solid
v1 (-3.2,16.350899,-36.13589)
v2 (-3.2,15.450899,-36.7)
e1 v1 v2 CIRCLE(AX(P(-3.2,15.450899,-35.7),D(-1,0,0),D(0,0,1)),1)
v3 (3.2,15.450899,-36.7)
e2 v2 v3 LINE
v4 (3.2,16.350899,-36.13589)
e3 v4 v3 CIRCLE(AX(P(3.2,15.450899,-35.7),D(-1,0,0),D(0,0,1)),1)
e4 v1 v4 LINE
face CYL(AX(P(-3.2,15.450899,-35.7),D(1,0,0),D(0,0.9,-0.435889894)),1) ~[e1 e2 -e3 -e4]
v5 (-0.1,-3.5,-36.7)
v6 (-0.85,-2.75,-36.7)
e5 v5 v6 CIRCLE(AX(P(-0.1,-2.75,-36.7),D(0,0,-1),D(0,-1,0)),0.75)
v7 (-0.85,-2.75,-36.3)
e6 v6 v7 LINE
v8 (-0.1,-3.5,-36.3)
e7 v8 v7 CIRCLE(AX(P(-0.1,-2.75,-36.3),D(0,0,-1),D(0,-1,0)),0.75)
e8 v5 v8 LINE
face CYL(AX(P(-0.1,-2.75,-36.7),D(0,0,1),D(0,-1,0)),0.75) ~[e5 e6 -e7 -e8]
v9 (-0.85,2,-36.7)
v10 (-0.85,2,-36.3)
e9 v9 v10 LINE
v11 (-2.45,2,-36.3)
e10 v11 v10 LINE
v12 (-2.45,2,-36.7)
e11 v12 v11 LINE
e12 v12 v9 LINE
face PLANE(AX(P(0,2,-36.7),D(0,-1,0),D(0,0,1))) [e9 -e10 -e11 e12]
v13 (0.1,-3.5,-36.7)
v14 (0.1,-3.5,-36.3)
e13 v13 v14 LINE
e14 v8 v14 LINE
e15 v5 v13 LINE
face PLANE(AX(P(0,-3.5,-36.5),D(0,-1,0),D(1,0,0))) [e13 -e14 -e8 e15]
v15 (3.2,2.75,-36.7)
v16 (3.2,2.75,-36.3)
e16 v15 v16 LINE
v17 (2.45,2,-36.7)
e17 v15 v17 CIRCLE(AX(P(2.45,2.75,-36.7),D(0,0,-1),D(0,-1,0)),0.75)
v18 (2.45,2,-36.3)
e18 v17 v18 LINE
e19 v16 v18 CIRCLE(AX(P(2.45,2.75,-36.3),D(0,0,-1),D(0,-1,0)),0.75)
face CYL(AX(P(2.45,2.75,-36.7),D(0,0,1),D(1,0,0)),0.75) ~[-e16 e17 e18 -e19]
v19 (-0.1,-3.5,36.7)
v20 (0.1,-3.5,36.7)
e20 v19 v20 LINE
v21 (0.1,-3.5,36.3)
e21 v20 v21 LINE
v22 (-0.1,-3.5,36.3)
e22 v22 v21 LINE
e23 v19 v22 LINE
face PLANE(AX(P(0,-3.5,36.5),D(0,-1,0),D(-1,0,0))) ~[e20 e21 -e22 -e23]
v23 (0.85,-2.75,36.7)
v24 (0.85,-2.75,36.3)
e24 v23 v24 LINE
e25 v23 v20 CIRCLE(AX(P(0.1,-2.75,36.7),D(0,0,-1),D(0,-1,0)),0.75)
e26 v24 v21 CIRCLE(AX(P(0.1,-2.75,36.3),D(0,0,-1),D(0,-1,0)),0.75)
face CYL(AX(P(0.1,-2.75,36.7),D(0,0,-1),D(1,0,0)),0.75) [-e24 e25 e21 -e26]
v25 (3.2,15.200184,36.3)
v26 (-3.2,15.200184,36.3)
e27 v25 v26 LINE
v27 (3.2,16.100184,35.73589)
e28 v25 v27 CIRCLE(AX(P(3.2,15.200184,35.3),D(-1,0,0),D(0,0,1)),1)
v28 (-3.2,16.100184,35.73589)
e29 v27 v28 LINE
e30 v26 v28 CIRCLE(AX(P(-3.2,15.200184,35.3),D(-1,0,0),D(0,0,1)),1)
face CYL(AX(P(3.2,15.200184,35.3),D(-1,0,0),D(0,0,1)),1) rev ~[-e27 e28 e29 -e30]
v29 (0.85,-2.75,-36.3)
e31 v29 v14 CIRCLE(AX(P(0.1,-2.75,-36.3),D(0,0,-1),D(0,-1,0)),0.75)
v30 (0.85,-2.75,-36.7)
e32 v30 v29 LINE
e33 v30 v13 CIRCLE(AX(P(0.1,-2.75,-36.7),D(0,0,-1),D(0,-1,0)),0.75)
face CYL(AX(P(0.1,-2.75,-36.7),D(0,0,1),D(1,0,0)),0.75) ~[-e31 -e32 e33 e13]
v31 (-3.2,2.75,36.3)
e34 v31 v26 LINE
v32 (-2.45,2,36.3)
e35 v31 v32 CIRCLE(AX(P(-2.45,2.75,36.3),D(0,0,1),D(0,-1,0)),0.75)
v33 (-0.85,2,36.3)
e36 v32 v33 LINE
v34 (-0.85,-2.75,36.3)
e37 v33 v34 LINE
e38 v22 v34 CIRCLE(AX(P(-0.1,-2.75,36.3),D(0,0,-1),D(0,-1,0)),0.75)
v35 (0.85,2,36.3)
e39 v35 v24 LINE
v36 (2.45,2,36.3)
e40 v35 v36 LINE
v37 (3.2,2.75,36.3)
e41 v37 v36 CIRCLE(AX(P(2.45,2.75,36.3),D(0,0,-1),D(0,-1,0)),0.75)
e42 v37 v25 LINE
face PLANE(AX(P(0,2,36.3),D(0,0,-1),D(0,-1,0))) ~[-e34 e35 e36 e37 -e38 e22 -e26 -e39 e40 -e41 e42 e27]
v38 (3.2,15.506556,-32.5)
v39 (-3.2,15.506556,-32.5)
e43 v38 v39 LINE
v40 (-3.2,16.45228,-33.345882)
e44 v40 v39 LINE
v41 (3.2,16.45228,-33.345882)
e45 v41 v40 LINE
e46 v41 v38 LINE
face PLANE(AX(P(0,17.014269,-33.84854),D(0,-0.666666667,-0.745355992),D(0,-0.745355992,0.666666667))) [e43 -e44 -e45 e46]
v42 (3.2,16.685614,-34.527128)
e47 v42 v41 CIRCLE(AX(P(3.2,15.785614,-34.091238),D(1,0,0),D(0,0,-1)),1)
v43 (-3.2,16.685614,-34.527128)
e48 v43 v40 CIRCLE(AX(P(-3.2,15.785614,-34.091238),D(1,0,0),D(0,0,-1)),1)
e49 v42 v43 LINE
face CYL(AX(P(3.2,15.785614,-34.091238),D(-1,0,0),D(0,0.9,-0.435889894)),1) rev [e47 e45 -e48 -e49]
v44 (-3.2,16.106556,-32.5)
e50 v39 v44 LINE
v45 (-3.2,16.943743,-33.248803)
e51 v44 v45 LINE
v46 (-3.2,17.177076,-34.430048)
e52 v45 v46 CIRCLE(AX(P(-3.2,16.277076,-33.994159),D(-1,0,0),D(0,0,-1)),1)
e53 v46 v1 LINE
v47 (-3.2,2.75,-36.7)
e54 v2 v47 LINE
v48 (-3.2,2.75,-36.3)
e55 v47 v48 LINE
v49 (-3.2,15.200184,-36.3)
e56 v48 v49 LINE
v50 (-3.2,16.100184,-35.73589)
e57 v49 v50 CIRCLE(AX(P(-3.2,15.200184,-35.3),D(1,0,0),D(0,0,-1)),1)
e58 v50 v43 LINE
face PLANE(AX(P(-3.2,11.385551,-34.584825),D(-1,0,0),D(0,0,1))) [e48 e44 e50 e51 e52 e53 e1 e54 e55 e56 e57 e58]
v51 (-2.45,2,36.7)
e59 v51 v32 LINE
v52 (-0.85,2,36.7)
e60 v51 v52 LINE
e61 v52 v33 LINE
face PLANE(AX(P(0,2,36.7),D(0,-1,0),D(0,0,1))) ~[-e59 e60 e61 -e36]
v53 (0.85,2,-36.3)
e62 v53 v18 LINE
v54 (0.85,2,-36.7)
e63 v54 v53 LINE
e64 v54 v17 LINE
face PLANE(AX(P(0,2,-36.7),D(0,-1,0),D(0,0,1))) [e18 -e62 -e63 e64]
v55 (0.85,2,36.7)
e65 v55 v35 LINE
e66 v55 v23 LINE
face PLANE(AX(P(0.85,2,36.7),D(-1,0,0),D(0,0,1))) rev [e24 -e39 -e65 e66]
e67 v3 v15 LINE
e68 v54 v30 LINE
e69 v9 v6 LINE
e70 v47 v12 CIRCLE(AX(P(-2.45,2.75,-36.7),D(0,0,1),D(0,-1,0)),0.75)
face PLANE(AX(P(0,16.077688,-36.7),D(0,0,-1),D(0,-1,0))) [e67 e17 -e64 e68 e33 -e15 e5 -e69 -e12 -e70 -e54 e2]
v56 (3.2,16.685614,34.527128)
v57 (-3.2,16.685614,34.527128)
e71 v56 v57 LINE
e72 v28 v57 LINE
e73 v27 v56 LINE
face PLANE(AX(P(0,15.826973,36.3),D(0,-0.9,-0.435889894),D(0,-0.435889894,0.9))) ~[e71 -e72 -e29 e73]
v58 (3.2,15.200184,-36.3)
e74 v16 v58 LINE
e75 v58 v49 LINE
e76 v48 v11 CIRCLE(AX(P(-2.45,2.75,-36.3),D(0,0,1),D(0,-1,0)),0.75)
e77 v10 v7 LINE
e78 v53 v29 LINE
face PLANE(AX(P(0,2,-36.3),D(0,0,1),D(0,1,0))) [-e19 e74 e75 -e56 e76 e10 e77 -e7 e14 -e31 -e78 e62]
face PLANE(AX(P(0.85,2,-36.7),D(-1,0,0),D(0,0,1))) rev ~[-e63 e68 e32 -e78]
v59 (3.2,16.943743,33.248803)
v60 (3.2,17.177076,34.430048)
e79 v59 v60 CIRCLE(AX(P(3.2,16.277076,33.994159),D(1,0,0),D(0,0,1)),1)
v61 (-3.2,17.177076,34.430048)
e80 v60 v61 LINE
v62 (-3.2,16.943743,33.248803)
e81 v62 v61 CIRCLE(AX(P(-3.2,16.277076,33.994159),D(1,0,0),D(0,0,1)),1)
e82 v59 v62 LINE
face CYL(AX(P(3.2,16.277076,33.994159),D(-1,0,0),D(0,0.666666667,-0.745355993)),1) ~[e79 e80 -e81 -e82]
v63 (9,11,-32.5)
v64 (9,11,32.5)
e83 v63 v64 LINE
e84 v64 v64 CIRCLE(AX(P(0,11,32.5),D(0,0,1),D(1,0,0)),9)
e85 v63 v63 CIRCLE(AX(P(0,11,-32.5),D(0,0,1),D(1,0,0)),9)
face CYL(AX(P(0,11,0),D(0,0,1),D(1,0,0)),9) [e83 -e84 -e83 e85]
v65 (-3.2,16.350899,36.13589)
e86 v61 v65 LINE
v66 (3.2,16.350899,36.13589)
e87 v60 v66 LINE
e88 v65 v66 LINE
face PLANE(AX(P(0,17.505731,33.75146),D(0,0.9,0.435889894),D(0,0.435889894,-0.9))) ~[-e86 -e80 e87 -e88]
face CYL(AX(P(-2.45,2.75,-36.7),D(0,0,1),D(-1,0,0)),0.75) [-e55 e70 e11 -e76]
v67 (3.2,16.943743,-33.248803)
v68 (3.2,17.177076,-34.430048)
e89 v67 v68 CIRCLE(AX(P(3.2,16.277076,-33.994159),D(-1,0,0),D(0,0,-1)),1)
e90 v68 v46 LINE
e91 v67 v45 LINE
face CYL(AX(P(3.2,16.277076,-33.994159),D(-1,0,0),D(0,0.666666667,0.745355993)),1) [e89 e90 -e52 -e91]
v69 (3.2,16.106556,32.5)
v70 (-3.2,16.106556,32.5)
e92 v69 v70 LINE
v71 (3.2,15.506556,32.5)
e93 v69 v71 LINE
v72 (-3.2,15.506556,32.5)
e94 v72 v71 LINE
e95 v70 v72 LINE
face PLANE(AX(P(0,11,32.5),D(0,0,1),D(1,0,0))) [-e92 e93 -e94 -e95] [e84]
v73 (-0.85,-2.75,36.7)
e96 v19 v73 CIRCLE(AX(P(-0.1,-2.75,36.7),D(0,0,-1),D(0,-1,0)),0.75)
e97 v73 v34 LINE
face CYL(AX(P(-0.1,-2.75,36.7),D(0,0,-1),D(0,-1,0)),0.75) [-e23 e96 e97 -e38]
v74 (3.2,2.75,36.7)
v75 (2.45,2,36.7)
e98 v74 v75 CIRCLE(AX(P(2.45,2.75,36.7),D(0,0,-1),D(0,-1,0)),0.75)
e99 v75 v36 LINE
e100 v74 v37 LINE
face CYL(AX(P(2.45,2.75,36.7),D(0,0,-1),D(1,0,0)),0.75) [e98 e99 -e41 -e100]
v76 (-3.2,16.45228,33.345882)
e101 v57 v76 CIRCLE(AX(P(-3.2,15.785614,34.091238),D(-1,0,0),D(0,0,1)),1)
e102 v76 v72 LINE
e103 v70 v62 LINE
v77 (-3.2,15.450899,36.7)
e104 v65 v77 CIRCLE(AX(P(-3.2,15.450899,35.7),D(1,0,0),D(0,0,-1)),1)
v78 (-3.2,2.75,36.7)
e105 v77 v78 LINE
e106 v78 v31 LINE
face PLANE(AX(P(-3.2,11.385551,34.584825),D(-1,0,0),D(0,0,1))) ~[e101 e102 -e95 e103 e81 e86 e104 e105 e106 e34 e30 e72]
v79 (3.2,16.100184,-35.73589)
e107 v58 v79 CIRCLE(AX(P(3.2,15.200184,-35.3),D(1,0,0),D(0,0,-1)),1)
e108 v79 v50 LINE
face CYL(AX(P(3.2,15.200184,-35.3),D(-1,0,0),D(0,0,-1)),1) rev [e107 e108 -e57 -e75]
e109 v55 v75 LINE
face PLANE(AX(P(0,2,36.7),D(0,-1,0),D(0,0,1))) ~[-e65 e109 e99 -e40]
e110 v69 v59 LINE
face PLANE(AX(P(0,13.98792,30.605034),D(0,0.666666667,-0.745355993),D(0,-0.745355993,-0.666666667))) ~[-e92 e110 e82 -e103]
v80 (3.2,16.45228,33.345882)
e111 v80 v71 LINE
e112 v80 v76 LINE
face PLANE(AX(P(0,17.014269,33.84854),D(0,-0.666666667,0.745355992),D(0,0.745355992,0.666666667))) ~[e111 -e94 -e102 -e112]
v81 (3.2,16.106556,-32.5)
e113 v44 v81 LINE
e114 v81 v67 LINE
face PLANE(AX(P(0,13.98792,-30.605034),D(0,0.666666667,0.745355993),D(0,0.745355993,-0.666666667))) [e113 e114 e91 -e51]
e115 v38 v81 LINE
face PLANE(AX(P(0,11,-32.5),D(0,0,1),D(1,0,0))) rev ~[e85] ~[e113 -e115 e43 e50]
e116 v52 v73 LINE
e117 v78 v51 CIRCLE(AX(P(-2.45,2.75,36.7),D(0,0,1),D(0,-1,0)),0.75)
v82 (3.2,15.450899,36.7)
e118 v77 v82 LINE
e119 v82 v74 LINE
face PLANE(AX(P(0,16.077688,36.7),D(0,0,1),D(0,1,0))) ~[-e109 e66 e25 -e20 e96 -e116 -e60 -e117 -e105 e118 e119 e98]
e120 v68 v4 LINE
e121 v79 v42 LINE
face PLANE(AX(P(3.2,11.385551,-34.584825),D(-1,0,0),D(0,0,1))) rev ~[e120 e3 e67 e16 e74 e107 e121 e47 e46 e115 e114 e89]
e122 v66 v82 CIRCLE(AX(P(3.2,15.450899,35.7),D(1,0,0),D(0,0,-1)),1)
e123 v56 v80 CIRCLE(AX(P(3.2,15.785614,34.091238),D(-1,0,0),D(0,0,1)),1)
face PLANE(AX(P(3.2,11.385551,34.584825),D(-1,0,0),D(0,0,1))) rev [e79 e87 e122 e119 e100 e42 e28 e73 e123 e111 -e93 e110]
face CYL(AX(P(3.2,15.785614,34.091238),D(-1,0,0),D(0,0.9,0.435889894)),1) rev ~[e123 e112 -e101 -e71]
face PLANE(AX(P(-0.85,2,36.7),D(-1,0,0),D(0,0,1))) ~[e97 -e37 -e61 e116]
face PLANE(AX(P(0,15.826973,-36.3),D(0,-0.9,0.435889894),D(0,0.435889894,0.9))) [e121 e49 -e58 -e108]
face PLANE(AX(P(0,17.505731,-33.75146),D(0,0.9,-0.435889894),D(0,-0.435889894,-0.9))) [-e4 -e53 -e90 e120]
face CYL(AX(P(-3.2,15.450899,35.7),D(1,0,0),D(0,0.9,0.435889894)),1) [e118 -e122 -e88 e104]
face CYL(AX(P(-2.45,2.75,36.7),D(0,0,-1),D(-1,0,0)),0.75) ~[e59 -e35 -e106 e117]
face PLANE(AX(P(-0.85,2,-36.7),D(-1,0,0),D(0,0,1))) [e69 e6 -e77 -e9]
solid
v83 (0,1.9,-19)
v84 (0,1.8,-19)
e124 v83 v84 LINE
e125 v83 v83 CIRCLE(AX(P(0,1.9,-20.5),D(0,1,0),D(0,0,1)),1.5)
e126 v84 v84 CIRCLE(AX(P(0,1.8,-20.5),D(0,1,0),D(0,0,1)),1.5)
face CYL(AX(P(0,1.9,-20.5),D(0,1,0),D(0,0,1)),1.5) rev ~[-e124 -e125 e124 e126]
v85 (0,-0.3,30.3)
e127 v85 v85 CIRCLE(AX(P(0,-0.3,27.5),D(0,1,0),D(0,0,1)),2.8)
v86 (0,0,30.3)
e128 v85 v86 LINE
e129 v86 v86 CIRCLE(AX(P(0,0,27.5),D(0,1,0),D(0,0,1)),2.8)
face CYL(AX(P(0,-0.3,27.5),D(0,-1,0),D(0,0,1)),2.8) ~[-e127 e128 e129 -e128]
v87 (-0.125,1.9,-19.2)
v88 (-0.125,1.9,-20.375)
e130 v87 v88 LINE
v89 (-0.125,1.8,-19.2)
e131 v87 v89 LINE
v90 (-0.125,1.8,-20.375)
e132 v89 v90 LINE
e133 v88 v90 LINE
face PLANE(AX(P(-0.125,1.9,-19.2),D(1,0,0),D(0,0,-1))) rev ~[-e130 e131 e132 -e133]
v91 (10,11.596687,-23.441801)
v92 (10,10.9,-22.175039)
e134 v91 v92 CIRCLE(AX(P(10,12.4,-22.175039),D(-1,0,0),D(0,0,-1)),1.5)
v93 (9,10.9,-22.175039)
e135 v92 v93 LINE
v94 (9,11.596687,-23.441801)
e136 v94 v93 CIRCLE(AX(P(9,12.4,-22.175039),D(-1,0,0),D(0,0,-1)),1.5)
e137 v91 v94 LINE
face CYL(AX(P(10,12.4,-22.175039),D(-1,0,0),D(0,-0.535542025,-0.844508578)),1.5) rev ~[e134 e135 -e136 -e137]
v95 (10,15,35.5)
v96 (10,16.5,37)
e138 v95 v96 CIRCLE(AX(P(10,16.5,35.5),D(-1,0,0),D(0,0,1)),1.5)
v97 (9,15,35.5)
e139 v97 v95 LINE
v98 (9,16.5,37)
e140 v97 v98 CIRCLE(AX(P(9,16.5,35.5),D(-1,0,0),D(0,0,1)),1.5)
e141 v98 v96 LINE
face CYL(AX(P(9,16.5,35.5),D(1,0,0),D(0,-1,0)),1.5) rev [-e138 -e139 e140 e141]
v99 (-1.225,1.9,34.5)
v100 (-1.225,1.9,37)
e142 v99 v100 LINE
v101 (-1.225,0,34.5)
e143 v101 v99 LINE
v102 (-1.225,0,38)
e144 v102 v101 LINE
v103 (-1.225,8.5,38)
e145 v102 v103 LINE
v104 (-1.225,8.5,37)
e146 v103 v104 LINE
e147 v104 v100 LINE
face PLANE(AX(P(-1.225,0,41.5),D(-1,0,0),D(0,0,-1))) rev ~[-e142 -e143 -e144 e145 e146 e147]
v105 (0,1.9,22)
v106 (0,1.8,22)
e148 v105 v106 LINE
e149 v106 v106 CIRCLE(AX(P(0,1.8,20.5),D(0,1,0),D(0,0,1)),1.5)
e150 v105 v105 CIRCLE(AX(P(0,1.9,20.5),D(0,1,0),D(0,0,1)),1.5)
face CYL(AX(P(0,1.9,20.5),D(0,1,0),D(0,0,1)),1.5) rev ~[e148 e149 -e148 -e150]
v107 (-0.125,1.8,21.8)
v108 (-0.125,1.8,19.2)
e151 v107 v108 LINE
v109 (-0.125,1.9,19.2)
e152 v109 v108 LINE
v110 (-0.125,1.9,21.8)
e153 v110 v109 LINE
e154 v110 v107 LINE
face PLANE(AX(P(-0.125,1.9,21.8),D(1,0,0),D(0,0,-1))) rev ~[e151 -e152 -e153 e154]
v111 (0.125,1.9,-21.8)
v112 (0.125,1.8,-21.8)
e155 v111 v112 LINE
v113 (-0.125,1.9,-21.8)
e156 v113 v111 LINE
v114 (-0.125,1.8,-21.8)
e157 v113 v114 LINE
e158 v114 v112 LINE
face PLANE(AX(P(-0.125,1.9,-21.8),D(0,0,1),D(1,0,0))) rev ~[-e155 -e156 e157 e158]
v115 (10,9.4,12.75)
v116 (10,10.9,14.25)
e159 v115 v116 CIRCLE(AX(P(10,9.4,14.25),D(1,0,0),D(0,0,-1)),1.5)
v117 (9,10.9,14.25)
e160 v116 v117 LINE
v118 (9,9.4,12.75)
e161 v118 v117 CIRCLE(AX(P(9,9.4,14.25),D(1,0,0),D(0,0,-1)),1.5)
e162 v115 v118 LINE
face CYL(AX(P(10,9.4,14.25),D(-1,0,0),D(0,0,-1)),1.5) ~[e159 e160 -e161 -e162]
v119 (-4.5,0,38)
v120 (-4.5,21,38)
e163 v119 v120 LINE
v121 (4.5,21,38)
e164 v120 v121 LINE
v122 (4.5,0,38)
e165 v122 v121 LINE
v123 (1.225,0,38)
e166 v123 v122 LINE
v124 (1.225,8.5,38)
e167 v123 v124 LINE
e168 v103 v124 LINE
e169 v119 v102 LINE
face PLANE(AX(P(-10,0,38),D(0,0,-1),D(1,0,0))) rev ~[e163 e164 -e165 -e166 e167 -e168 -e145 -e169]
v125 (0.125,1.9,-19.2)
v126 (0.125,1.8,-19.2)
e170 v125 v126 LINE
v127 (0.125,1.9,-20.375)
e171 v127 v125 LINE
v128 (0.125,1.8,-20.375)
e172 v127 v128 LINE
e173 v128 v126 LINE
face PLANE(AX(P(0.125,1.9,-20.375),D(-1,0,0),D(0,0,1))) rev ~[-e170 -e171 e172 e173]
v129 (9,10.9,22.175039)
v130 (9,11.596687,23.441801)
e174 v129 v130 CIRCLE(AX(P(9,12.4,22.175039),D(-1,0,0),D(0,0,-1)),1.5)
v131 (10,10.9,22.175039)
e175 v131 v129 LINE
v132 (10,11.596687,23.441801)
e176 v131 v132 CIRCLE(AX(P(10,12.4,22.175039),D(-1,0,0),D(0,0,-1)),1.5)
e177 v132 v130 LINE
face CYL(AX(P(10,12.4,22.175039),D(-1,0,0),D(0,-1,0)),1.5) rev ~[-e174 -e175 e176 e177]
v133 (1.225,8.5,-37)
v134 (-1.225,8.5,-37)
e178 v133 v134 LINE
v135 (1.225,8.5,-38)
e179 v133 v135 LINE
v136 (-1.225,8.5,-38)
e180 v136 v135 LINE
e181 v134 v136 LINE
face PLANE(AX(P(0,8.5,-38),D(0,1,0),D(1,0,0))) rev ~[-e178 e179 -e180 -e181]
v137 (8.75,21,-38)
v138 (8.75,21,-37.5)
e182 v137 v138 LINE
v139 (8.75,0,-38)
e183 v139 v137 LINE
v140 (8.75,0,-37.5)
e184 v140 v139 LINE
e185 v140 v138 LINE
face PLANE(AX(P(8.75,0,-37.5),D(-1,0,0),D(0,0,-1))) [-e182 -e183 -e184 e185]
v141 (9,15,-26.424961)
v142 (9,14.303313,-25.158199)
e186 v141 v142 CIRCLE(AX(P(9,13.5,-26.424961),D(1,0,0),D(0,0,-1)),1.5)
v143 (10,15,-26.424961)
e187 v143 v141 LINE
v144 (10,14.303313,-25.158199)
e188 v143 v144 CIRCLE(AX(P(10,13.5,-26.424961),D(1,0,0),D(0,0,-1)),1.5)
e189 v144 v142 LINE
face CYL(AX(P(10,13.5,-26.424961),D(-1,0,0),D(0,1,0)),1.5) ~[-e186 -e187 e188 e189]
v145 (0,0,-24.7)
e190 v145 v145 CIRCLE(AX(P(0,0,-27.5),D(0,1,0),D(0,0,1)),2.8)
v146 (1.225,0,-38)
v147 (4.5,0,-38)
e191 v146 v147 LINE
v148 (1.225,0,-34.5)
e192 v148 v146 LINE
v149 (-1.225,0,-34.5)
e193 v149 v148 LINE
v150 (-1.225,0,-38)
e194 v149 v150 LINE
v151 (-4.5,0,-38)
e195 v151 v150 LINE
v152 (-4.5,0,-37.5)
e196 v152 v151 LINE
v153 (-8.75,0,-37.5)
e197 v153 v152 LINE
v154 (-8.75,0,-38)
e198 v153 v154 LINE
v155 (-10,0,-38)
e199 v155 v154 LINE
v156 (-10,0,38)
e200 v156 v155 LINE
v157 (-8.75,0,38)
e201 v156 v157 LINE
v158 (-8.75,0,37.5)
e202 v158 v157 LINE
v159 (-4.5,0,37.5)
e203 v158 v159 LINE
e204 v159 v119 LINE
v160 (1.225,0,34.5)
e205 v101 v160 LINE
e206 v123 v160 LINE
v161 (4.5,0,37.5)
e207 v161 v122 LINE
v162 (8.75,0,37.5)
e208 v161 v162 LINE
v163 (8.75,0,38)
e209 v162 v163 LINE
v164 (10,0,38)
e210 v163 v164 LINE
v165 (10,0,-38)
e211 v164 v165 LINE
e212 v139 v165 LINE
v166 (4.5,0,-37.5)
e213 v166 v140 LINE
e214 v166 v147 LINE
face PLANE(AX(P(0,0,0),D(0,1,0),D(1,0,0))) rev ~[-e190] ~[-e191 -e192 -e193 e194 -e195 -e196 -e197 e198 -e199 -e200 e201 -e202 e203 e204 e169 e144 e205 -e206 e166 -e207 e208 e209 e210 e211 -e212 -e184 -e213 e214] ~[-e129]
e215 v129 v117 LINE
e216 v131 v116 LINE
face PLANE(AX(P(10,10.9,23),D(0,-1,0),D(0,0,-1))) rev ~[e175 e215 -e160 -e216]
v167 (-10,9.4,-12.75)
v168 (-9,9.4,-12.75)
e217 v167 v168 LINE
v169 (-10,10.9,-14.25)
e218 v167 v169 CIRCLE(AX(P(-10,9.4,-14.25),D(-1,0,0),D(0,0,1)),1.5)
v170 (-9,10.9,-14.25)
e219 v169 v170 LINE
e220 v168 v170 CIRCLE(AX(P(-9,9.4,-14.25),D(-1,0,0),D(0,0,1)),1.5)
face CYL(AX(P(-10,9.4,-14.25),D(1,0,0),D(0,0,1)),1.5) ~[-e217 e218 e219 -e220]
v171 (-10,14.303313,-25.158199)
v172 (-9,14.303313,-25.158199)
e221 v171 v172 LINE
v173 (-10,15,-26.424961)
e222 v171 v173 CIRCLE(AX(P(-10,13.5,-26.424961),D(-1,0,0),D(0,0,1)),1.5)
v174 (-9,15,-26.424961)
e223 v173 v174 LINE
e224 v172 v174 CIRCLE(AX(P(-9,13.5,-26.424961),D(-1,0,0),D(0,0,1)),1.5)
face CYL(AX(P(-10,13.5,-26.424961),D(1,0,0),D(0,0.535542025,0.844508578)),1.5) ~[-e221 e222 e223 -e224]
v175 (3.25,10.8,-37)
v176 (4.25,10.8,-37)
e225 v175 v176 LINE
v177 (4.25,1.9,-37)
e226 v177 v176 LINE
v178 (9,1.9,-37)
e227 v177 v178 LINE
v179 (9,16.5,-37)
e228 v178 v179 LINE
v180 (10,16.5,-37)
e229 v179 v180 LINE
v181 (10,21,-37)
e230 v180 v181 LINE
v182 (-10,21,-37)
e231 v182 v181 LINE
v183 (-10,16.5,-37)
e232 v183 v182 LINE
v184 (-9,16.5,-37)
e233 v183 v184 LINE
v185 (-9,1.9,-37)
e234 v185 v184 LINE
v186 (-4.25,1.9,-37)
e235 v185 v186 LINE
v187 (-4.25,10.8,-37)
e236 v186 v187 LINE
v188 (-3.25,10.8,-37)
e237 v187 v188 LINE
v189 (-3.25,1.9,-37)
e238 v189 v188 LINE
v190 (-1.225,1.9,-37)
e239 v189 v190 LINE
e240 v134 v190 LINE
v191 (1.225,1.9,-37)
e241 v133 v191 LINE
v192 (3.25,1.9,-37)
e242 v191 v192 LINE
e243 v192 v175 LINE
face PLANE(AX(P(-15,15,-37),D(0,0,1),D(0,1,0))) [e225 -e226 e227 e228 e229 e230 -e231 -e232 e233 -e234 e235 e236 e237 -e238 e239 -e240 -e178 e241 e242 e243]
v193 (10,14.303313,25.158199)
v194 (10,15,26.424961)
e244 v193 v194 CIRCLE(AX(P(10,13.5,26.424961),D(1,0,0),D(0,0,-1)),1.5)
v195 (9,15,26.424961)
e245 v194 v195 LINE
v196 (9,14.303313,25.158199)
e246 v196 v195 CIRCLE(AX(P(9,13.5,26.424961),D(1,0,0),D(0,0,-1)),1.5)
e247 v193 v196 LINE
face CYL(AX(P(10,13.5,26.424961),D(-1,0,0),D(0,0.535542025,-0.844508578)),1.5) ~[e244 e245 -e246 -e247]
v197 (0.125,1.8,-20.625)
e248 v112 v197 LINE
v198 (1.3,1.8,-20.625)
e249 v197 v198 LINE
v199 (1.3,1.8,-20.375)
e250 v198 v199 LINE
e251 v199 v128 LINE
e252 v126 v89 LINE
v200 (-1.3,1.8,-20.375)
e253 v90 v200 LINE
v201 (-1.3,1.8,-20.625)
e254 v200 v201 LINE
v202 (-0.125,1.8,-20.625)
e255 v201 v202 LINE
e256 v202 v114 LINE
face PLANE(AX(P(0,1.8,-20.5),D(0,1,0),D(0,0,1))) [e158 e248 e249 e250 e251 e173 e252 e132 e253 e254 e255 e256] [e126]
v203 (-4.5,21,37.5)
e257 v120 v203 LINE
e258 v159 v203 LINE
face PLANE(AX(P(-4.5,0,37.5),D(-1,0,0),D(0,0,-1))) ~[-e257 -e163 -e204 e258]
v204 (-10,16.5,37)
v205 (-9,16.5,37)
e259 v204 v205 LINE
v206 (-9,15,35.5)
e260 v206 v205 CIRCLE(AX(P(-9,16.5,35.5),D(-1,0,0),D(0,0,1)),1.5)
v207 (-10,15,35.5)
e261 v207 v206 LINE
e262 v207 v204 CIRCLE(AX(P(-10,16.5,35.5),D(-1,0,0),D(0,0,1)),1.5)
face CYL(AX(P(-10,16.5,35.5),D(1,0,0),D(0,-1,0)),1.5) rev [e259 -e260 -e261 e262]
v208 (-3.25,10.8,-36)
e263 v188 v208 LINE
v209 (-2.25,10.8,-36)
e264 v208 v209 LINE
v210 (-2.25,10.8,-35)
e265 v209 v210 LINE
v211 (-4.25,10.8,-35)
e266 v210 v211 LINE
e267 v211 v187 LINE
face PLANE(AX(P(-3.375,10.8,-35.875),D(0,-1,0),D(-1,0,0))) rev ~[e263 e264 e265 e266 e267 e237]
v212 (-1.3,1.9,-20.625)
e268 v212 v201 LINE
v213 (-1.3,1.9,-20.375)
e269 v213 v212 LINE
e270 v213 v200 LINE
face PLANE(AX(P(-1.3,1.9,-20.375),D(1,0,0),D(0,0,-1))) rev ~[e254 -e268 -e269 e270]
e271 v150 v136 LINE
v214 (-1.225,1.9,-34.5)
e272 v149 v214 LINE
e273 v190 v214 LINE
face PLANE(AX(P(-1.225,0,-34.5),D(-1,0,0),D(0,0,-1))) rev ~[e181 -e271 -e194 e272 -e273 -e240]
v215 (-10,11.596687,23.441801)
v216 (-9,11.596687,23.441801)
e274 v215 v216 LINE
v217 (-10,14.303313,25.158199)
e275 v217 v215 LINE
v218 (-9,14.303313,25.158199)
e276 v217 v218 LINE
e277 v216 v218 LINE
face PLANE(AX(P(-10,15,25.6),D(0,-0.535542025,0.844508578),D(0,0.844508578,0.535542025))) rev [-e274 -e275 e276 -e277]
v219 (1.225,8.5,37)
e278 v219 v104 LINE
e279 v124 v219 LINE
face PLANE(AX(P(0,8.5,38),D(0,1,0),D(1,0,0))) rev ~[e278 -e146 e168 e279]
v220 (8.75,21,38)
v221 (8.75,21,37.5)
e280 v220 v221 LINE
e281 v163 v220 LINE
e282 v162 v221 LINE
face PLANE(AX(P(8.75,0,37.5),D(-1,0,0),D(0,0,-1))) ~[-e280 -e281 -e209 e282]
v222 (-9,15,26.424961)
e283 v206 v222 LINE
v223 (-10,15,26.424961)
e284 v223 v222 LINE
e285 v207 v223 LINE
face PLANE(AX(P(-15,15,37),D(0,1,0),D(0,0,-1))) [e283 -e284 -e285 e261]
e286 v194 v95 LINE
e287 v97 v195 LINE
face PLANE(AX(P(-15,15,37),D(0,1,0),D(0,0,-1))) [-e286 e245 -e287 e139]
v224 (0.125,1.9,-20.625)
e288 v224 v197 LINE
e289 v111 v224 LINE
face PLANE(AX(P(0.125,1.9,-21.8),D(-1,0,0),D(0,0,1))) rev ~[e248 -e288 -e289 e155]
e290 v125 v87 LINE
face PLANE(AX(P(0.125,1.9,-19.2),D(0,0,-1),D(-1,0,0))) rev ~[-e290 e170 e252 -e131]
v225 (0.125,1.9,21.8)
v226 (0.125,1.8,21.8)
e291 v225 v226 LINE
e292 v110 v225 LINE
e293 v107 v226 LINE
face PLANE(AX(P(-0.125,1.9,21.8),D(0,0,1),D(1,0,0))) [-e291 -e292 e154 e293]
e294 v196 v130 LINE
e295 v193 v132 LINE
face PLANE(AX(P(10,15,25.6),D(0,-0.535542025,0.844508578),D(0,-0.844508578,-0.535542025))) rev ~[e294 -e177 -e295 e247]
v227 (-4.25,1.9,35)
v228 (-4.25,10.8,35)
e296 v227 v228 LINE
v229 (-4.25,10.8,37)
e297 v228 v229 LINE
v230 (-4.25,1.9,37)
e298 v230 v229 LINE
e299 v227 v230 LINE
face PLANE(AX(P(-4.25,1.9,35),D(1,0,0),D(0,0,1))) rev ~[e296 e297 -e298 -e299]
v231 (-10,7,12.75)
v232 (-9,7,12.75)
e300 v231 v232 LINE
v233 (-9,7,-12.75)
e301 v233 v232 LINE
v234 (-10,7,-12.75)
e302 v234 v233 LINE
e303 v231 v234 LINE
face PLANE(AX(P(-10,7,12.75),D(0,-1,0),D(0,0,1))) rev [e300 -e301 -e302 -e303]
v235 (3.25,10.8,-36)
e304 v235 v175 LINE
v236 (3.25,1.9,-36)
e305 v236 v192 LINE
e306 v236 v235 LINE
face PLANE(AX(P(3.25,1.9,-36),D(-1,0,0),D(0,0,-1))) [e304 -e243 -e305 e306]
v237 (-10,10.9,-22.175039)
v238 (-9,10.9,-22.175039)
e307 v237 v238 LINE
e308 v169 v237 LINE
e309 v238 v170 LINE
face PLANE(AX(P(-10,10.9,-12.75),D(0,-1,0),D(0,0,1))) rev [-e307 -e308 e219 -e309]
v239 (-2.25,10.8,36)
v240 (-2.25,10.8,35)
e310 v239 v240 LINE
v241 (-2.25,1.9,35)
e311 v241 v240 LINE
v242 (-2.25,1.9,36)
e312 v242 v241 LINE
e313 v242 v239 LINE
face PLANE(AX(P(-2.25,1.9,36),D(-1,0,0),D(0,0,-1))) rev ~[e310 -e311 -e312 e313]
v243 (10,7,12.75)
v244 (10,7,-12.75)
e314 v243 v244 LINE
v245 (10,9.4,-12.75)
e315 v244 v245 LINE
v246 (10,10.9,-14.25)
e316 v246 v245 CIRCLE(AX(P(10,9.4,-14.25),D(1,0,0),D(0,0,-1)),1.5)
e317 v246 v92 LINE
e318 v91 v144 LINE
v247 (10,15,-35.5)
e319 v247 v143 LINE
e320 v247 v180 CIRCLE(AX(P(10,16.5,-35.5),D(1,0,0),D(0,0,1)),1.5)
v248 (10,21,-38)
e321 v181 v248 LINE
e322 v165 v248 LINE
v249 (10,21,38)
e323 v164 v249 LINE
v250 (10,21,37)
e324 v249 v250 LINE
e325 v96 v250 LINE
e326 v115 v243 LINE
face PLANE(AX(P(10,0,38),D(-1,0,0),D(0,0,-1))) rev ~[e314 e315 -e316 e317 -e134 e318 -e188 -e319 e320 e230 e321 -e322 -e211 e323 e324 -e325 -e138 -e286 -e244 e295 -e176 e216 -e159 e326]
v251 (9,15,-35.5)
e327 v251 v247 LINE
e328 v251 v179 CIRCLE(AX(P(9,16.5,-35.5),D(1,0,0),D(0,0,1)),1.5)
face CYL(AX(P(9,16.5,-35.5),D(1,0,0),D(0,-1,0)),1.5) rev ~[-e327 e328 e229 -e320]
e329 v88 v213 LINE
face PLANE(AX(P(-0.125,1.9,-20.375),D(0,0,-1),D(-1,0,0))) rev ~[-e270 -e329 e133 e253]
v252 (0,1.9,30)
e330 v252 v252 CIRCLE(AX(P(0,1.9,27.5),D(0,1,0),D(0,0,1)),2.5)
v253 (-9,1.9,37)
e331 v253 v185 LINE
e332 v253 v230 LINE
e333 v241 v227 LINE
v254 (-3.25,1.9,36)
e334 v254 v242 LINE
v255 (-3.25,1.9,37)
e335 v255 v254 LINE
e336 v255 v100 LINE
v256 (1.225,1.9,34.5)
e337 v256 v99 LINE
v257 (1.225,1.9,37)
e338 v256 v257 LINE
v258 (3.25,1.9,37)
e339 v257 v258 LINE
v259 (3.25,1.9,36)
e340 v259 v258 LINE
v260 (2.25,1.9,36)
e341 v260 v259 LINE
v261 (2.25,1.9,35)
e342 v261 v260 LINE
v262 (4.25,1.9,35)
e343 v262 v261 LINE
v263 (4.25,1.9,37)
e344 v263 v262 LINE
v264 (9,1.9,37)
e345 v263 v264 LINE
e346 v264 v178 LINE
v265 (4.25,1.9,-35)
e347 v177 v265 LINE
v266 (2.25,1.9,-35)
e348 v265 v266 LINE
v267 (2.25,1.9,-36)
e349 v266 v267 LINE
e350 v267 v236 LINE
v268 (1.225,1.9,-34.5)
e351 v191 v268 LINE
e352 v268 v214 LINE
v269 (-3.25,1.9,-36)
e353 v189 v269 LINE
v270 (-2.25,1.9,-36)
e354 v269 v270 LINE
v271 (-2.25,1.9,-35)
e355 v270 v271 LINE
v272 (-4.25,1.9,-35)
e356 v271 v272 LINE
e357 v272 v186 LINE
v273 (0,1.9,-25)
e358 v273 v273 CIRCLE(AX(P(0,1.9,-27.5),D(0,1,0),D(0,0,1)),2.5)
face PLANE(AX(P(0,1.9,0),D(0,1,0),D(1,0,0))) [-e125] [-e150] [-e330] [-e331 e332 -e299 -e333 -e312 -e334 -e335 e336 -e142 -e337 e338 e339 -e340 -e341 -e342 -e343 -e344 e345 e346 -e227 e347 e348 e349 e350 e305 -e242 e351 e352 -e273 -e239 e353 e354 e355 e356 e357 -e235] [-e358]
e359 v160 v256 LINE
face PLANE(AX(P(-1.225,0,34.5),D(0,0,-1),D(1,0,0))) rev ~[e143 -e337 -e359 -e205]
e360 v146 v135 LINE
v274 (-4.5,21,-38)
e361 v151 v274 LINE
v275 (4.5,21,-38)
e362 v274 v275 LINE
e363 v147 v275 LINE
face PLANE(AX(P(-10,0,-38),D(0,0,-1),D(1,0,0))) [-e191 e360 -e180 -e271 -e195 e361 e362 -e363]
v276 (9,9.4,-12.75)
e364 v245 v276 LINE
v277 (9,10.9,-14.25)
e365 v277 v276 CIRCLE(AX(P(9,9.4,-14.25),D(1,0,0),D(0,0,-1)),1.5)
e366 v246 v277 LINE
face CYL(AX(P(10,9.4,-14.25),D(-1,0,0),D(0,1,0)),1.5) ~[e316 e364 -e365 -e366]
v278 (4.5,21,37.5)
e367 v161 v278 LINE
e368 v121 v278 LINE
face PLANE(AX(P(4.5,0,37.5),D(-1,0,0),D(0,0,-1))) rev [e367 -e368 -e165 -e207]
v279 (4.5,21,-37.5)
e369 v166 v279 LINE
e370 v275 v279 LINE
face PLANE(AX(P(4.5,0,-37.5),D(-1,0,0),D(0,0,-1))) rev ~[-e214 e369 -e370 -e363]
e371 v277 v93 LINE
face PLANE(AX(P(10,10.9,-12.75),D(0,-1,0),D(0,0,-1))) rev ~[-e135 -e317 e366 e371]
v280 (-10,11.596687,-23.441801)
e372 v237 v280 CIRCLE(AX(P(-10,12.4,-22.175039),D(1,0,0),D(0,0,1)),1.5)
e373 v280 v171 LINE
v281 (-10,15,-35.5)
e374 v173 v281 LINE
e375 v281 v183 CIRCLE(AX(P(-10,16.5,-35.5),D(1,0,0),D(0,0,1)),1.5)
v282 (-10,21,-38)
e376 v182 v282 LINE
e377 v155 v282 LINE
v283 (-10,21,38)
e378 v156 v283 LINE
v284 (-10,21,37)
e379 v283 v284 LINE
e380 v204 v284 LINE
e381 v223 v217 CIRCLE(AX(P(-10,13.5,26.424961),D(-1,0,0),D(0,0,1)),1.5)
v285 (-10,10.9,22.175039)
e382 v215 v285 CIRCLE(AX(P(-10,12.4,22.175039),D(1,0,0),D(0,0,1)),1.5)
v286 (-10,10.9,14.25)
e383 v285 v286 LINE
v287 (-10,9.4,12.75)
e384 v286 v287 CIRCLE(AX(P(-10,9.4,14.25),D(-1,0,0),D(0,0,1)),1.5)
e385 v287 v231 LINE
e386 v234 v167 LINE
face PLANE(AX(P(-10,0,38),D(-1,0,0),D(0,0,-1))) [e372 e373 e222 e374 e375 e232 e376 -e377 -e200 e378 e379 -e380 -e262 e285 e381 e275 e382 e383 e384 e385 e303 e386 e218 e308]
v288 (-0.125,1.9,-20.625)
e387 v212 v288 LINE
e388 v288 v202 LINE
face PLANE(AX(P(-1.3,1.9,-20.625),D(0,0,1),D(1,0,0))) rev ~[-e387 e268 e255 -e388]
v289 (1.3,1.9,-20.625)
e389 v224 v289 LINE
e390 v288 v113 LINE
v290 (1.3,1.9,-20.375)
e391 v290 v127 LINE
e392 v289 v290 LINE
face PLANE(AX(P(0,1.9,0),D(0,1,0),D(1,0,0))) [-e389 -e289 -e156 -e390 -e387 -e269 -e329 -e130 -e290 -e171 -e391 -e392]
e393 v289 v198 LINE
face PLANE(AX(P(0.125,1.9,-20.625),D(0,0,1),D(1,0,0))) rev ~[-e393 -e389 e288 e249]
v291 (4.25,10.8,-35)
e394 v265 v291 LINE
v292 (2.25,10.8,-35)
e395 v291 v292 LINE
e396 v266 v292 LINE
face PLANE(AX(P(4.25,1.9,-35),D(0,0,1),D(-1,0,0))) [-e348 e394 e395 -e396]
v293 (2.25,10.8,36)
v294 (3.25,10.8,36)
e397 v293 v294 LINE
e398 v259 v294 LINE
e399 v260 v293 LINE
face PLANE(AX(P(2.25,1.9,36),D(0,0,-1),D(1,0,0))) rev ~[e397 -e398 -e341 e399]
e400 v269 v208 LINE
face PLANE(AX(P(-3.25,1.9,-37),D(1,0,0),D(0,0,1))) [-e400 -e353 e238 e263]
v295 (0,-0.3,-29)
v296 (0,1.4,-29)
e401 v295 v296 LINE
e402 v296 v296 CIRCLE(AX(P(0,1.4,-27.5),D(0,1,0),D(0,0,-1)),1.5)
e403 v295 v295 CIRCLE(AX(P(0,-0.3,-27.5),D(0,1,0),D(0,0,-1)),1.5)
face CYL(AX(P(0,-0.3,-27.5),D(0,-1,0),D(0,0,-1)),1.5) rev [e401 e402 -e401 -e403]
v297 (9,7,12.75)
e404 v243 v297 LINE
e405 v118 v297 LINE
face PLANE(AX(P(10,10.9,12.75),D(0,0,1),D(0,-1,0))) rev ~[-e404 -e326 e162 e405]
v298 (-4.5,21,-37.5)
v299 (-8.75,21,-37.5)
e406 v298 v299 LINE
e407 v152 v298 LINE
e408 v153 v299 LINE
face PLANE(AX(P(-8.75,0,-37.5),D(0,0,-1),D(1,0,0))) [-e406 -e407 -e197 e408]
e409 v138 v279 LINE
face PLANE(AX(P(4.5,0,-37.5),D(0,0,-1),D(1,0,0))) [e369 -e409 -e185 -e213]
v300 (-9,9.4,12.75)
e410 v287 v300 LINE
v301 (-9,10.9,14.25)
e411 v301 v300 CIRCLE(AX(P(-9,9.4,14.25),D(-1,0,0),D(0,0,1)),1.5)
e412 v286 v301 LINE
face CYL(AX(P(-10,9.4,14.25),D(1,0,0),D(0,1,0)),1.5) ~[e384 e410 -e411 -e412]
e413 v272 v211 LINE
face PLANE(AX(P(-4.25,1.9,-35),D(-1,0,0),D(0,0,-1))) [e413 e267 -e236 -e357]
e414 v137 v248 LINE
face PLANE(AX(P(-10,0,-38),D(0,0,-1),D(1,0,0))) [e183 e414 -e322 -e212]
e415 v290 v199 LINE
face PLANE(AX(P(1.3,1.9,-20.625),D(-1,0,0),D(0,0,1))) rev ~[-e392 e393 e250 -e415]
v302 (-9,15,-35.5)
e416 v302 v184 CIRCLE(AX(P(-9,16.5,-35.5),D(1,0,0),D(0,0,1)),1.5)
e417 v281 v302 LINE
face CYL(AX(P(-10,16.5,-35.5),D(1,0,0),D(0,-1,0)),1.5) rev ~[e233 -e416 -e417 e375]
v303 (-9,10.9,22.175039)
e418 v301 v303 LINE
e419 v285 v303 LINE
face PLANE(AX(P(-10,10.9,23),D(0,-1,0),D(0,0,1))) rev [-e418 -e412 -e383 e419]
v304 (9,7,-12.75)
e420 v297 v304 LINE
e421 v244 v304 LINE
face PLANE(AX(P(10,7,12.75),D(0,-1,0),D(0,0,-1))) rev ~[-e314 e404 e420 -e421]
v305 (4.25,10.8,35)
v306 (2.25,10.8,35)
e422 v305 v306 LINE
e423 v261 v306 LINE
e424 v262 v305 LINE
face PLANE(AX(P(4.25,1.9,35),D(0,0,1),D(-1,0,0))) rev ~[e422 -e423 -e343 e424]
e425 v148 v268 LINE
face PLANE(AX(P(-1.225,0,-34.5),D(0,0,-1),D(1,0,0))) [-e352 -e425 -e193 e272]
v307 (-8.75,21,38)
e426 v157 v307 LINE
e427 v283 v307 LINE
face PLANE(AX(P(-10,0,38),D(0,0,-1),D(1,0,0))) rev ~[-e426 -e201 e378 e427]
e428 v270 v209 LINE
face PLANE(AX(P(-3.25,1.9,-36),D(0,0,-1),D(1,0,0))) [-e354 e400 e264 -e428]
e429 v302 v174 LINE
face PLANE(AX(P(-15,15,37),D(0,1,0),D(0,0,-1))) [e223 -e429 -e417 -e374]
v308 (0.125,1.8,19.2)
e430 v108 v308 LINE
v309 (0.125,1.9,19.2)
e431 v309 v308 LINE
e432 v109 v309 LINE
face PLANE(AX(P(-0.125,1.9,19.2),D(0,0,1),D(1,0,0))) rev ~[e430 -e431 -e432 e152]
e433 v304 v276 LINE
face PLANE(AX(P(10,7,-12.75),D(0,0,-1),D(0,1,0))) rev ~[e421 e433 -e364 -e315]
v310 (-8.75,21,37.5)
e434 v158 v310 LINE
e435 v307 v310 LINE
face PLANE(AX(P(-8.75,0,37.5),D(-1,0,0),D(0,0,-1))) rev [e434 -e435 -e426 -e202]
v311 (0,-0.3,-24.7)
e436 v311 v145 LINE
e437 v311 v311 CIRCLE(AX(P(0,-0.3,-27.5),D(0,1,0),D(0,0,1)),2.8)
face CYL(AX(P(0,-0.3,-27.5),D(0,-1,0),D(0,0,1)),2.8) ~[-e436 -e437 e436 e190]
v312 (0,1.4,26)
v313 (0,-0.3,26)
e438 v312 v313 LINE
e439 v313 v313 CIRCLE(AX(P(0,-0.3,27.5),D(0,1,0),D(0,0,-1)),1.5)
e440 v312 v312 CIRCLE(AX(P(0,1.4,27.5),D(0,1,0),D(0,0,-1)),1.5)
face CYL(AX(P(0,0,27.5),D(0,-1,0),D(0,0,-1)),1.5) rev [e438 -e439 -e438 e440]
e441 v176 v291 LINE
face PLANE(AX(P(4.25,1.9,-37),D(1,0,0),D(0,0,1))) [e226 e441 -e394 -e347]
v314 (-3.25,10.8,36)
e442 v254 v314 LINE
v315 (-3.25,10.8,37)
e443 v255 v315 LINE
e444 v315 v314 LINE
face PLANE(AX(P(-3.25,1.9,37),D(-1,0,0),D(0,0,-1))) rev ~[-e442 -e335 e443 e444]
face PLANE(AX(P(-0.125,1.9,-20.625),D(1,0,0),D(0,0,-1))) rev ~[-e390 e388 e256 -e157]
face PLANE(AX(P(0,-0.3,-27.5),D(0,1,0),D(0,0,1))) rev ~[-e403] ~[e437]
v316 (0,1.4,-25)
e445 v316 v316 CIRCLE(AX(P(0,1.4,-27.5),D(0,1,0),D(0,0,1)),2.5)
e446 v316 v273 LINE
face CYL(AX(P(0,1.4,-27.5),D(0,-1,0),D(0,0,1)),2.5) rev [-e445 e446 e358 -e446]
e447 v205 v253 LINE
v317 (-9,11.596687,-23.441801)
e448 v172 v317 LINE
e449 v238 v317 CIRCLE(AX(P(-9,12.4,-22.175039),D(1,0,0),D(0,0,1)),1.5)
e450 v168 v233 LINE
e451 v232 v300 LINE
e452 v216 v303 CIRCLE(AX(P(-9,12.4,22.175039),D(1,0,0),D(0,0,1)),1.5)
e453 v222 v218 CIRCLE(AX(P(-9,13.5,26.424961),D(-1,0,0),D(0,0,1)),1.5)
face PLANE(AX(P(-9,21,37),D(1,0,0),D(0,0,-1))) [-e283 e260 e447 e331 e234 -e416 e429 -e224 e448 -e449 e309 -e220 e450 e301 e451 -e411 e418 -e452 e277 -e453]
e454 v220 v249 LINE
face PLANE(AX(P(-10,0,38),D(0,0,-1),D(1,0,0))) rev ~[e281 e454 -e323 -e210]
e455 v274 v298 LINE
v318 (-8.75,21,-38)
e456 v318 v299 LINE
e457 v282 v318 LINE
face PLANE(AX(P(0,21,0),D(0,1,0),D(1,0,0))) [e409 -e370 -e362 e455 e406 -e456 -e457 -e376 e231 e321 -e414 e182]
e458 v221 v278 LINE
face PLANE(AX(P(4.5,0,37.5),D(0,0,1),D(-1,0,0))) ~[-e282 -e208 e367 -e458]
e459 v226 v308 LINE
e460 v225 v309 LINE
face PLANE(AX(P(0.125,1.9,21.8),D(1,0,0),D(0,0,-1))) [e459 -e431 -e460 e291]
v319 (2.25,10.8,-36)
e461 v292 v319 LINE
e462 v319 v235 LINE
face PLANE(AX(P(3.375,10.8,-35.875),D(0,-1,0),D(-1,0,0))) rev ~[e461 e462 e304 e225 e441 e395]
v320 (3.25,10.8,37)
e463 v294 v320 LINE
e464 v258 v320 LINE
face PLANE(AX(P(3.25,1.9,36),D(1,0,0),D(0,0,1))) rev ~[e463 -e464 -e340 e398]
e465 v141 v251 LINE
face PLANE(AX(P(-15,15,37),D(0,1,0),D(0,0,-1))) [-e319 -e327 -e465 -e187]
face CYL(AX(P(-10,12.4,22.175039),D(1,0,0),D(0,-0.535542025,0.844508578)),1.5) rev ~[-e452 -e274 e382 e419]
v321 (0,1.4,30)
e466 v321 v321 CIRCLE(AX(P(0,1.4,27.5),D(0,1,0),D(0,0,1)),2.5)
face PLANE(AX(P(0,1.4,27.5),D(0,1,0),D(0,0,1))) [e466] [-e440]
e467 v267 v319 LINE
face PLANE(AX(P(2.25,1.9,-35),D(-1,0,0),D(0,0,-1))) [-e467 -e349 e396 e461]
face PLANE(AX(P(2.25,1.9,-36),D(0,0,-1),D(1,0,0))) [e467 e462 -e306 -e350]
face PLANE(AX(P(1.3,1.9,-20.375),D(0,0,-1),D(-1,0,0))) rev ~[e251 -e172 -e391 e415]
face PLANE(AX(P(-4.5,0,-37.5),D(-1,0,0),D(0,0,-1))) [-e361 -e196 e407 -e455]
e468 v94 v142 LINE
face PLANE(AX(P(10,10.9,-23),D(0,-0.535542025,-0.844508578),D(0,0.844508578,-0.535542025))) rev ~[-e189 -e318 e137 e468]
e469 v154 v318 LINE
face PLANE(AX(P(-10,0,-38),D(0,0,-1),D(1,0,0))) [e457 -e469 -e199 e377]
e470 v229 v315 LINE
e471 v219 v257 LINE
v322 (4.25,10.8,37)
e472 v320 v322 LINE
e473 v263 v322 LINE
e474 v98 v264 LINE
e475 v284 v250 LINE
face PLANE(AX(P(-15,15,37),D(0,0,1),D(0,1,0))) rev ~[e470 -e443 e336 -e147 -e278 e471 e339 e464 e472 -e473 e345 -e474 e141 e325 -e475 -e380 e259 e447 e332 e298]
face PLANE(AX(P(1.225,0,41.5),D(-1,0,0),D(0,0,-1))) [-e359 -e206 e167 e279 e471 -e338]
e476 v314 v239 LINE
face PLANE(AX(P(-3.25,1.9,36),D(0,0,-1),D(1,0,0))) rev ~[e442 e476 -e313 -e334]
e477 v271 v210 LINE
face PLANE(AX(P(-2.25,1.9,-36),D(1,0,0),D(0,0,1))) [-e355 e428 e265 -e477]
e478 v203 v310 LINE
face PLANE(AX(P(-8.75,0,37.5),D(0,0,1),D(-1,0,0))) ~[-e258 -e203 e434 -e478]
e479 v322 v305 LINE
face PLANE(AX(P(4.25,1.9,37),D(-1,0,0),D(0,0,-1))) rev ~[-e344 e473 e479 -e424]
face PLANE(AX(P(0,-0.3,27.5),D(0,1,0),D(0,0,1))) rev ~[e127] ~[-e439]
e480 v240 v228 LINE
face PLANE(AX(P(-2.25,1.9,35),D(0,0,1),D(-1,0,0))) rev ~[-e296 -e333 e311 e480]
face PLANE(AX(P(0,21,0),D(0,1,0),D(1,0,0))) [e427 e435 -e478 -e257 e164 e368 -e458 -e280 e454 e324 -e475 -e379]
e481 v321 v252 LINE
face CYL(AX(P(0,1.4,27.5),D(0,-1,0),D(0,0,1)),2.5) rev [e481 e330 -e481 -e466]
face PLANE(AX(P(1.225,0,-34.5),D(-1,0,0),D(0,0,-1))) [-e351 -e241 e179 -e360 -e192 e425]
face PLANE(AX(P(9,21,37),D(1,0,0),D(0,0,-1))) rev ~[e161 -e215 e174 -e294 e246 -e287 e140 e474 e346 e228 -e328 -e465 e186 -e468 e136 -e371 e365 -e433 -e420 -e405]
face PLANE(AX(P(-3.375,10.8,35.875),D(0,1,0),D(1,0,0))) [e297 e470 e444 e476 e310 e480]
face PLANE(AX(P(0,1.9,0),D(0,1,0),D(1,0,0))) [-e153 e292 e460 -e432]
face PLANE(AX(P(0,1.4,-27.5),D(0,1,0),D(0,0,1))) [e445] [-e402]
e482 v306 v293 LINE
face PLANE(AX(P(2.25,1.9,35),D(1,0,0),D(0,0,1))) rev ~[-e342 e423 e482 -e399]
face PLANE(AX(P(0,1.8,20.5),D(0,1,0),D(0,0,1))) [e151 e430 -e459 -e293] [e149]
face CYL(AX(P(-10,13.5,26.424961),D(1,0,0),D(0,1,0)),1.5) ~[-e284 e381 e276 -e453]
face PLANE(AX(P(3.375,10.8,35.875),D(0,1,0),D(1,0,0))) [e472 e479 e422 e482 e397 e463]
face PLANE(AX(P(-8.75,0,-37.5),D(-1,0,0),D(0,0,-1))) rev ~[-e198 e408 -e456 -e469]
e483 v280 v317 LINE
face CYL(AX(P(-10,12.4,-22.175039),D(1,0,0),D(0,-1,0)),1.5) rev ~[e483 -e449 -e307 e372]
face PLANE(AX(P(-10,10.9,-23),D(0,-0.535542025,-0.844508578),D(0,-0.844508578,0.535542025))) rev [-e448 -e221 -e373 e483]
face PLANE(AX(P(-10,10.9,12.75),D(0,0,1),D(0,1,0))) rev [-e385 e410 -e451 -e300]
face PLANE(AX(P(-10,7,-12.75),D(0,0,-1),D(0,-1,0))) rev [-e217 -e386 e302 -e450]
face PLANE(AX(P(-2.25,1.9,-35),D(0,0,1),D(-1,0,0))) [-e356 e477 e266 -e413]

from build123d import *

# Parameters (mm, degrees)
SKETCH_1_W                  = 20
SKETCH_1_H                  = 76
EXTRUDE_780_DEPTH           = 21
CUT_EXTRUDE_1895_DEPTH      = 45.55333882
SKETCH_3_W                  = 18
SKETCH_3_H                  = 74
CUT_EXTRUDE_2456_DEPTH      = 19.1
CUT_EXTRUDE_2748_DEPTH      = 15
CUT_EXTRUDE_2748_DEPTH_BACK = 15
SKETCH_4_W                  = 74
SKETCH_4_H                  = 12
CUT_EXTRUDE_3347_DEPTH      = 15
FILLET_2_R                  = 1.5
FILLET_2_OF_MIRROR_2_R      = 1.5
SKETCH_6_W                  = 2.45
SKETCH_6_H                  = 7
CUT_EXTRUDE_4471_DEPTH      = 8.5
SKETCH_11_R                 = 1.5
CUT_EXTRUDE_4812_DEPTH      = 45.55333882
EXTRUDE_START               = -0.3
SKETCH_12_R                 = 2.8
SKETCH_12_R_2               = 1.5
EXTRUDE_5233_DEPTH          = 0.3
CUT_EXTRUDE_START           = -0.5
SKETCH_13_R                 = 2.5
SKETCH_13_R_2               = 1.5
CUT_EXTRUDE_17_DEPTH        = 0.5
SKETCH_14_R                 = 1.5
SKETCH_14_W                 = 0.25
SKETCH_14_H                 = 2.6
CUT_EXTRUDE_8132_DEPTH      = 0.1
EXTRUDE_9544_DEPTH          = 8.9
EXTRUDE_10391_DEPTH         = 3.2
SKETCH_17_W                 = 1.7
SKETCH_17_H                 = 0.4
EXTRUDE_10843_DEPTH         = 5.5
FILLET_3_R                  = 1
FILLET_4_R                  = 0.75
SKETCH_18_R                 = 9
EXTRUDE_1_DEPTH             = 32.5


with BuildPart() as part:
    # Эскиз1 → Extrude 780 (new body)
    with BuildSketch(Plane(origin=(0, 0, 0), x_dir=(1, 0, 0), z_dir=(0, 1, 0))):
        Rectangle(SKETCH_1_W, SKETCH_1_H)
    extrude(amount=EXTRUDE_780_DEPTH)

    # Эскиз2 → Cut-Extrude 1895 (cut, through all)
    with BuildSketch(Plane(origin=(0, 0, 0), x_dir=(1, 0, 0), z_dir=(0, 1, 0))):
        Polygon((-4.5, 37.5), (-4.5, 38), (4.5, 38), (4.5, 37.5), (8.75, 37.5), (8.75, 38), (10, 38), (10, 46.507054696), (-10, 46.507054696), (-10, 38), (-8.75, 38), (-8.75, 37.5), align=None)
    cut_extrude_1895 = extrude(amount=CUT_EXTRUDE_1895_DEPTH, mode=Mode.SUBTRACT)

    # Зеркальное отражение1: Cut-Extrude 1895 across plane
    add(cut_extrude_1895.mirror(Plane.XY), mode=Mode.SUBTRACT)

    # Эскиз3 → Cut-Extrude 2456 (cut)
    with BuildSketch(Plane(origin=(0, 21, 0), x_dir=(1, 0, 0), z_dir=(0, 1, 0))):
        Rectangle(SKETCH_3_W, SKETCH_3_H)
    extrude(amount=-CUT_EXTRUDE_2456_DEPTH, mode=Mode.SUBTRACT)

    # Эскиз4 → Cut-Extrude 2748 (cut, two sides: drawn at the far end of the back side and taken through both)
    with BuildSketch(Plane(origin=(0, 0, 0), x_dir=(0, 0, -1), z_dir=(1, 0, 0)).offset(-CUT_EXTRUDE_2748_DEPTH_BACK)):
        with Locations((0, 21)):
            Rectangle(SKETCH_4_W, SKETCH_4_H)
    extrude(amount=CUT_EXTRUDE_2748_DEPTH + CUT_EXTRUDE_2748_DEPTH_BACK, mode=Mode.SUBTRACT)

    # Эскиз5 → Cut-Extrude 3347 (cut)
    with BuildSketch(Plane(origin=(10, 0, 0), x_dir=(0, 0, -1), z_dir=(1, 0, 0))):
        Polygon((35.6, 21), (-35.6, 21), (-35.6, 15), (-25.6, 15), (-23, 10.9), (-12.75, 10.9), (-12.75, 7), (12.75, 7), (12.75, 10.9), (23, 10.9), (25.6, 15), (35.6, 15), align=None)
    cut_extrude_3347 = extrude(amount=-CUT_EXTRUDE_3347_DEPTH, mode=Mode.SUBTRACT)

    # Скругление2
    fillet_2_edges = [part.edges().sort_by_distance(p)[0] for p in [
        (9.5, 10.9, -23),
        (9.5, 10.9, -12.75),
        (9.5, 10.9, 12.75),
        (9.5, 10.9, 23),
        (9.5, 15, -37),
        (9.5, 15, -25.6),
        (9.5, 15, 37),
        (9.5, 15, 25.6),
    ]]
    fillet(fillet_2_edges, radius=FILLET_2_R)

    # Зеркальное отражение2: Cut-Extrude 3347 across plane
    add(cut_extrude_3347.mirror(Plane(origin=(0, 0, 0), x_dir=(0, 0, 1), z_dir=(1, 0, 0))), mode=Mode.SUBTRACT)

    # Скругление2 of Зеркальное отражение2
    fillet_2_of_mirror_2_edges = [part.edges().sort_by_distance(p)[0] for p in [
        (-9.5, 10.9, -23),
        (-9.5, 10.9, -12.75),
        (-9.5, 10.9, 12.75),
        (-9.5, 10.9, 23),
        (-9.5, 15, -37),
        (-9.5, 15, -25.6),
        (-9.5, 15, 37),
        (-9.5, 15, 25.6),
    ]]
    fillet(fillet_2_of_mirror_2_edges, radius=FILLET_2_OF_MIRROR_2_R)

    # Эскиз6 → Cut-Extrude 4471 (cut)
    with BuildSketch(Plane(origin=(0, 0, 0), x_dir=(1, 0, 0), z_dir=(0, 1, 0))):
        with Locations((0, -38)):
            Rectangle(SKETCH_6_W, SKETCH_6_H)
        with Locations((0, 38)):
            Rectangle(SKETCH_6_W, SKETCH_6_H)
    extrude(amount=CUT_EXTRUDE_4471_DEPTH, mode=Mode.SUBTRACT)

    # Эскиз11 → Cut-Extrude 4812 (cut, through all)
    with BuildSketch(Plane(origin=(0, 0, 0), x_dir=(1, 0, 0), z_dir=(0, 1, 0))):
        with Locations((0, 27.5)):
            Circle(SKETCH_11_R)
        with Locations((0, -27.5)):
            Circle(SKETCH_11_R)
    extrude(amount=CUT_EXTRUDE_4812_DEPTH, mode=Mode.SUBTRACT)

    # Эскиз12 → Extrude 5233 (add)
    # profile 1 of 2: a face of its own
    with BuildSketch(Plane(origin=(0, 0, 0), x_dir=(1, 0, 0), z_dir=(0, 1, 0)).offset(EXTRUDE_START)):
        with Locations((0, 27.5)):
            Circle(SKETCH_12_R)
        with Locations((0, 27.5)):
            Circle(SKETCH_12_R_2, mode=Mode.SUBTRACT)
    # profile 2 of 2: a face of its own
    with BuildSketch(Plane(origin=(0, 0, 0), x_dir=(1, 0, 0), z_dir=(0, 1, 0)).offset(EXTRUDE_START)):
        with Locations((0, -27.5)):
            Circle(SKETCH_12_R)
        with Locations((0, -27.5)):
            Circle(SKETCH_12_R_2, mode=Mode.SUBTRACT)
    extrude(amount=EXTRUDE_5233_DEPTH)

    # Эскиз13 → Вырез-Вытянуть17 (cut)
    # profile 1 of 2: a face of its own
    with BuildSketch(Plane(origin=(0, 1.9, 0), x_dir=(1, 0, 0), z_dir=(0, 1, 0)).offset(CUT_EXTRUDE_START)):
        with Locations((0, -27.5)):
            Circle(SKETCH_13_R)
        with Locations((0, -27.5)):
            Circle(SKETCH_13_R_2, mode=Mode.SUBTRACT)
    # profile 2 of 2: a face of its own
    with BuildSketch(Plane(origin=(0, 1.9, 0), x_dir=(1, 0, 0), z_dir=(0, 1, 0)).offset(CUT_EXTRUDE_START)):
        with Locations((0, 27.5)):
            Circle(SKETCH_13_R)
        with Locations((0, 27.5)):
            Circle(SKETCH_13_R_2, mode=Mode.SUBTRACT)
    extrude(amount=CUT_EXTRUDE_17_DEPTH, mode=Mode.SUBTRACT)

    # Эскиз14 → Cut-Extrude 8132 (cut)
    # profile 1 of 2: a face of its own
    with BuildSketch(Plane(origin=(0, 1.9, 0), x_dir=(1, 0, 0), z_dir=(0, 1, 0))):
        with Locations((0, 20.5)):
            Circle(SKETCH_14_R)
        Polygon((-0.125, 21.8), (0.125, 21.8), (0.125, 20.625), (1.3, 20.625), (1.3, 20.375), (0.125, 20.375), (0.125, 19.2), (-0.125, 19.2), (-0.125, 20.375), (-1.3, 20.375), (-1.3, 20.625), (-0.125, 20.625), align=None, mode=Mode.SUBTRACT)
    # profile 2 of 2: a face of its own
    with BuildSketch(Plane(origin=(0, 1.9, 0), x_dir=(1, 0, 0), z_dir=(0, 1, 0))):
        with Locations((0, -20.5)):
            Circle(SKETCH_14_R)
        with Locations((0, -20.5)):
            Rectangle(SKETCH_14_W, SKETCH_14_H, mode=Mode.SUBTRACT)
    extrude(amount=-CUT_EXTRUDE_8132_DEPTH, mode=Mode.SUBTRACT)

    # Эскиз15 → Extrude 9544 (add)
    with BuildSketch(Plane(origin=(0, 1.9, 0), x_dir=(1, 0, 0), z_dir=(0, 1, 0))):
        Polygon((-2.25, 35), (-4.25, 35), (-4.25, 37), (-3.25, 37), (-3.25, 36), (-2.25, 36), align=None)
        Polygon((2.25, 35), (2.25, 36), (3.25, 36), (3.25, 37), (4.25, 37), (4.25, 35), align=None)
        Polygon((4.25, -35), (2.25, -35), (2.25, -36), (3.25, -36), (3.25, -37), (4.25, -37), align=None)
        Polygon((-2.25, -36), (-2.25, -35), (-4.25, -35), (-4.25, -37), (-3.25, -37), (-3.25, -36), align=None)
    extrude(amount=EXTRUDE_9544_DEPTH)


with BuildPart() as body_2:
    # Эскиз16 → Extrude 10391 (new, symmetric)
    with BuildSketch(Plane.ZY):
        Polygon((-36.3, 2), (-36.3, 15.826972516), (-33.848539634, 17.01426896), (-30.994965619, 13.823876222), (-30.699555061, 9.402575836), (-30.300444939, 9.429242503), (-30.605034381, 13.987919845), (-33.751460366, 17.50573104), (-36.7, 16.077688118), (-36.7, 2), align=None)
    extrude(amount=EXTRUDE_10391_DEPTH, both=True)

    # Эскиз17 → Extrude 10843 (add)
    with BuildSketch(Plane.XZ.offset(-2)):
        with Locations((0, -36.5)):
            Rectangle(SKETCH_17_W, SKETCH_17_H)
    extrude(amount=EXTRUDE_10843_DEPTH)

    # Скругление3
    fillet_3_edges = [body_2.edges().sort_by_distance(p)[0] for p in [
        (0, 13.823876222, -30.994965619),
        (0, 13.987919845, -30.605034381),
        (0, 17.01426896, -33.848539634),
        (0, 17.50573104, -33.751460366),
        (0, 15.826972516, -36.3),
        (0, 16.077688118, -36.7),
    ]]
    fillet(fillet_3_edges, radius=FILLET_3_R)

    # Скругление4
    fillet_4_edges = [body_2.edges().sort_by_distance(p)[0] for p in [
        (3.2, 2, -36.5),
        (0.85, -3.5, -36.5),
        (-0.85, -3.5, -36.5),
        (-3.2, 2, -36.5),
        (3.2, 9.41590917, -30.5),
        (-3.2, 9.41590917, -30.5),
    ]]
    fillet(fillet_4_edges, radius=FILLET_4_R)


with BuildPart() as body_3:
    # Mirror1: mirrored copy
    add(body_2.part.mirror(Plane.XY))


with BuildPart() as body_2_1:
    add(body_2.part)

    add(body_3.part)  # Бобышка-Вытянуть1 merges body 3
    # Эскиз18 → Бобышка-Вытянуть1 (add, symmetric)
    with BuildSketch(Plane.XY):
        with Locations((0, 11)):
            Circle(SKETCH_18_R)
    extrude(amount=EXTRUDE_1_DEPTH, both=True)


solid = Compound([part.part, body_2_1.part])
